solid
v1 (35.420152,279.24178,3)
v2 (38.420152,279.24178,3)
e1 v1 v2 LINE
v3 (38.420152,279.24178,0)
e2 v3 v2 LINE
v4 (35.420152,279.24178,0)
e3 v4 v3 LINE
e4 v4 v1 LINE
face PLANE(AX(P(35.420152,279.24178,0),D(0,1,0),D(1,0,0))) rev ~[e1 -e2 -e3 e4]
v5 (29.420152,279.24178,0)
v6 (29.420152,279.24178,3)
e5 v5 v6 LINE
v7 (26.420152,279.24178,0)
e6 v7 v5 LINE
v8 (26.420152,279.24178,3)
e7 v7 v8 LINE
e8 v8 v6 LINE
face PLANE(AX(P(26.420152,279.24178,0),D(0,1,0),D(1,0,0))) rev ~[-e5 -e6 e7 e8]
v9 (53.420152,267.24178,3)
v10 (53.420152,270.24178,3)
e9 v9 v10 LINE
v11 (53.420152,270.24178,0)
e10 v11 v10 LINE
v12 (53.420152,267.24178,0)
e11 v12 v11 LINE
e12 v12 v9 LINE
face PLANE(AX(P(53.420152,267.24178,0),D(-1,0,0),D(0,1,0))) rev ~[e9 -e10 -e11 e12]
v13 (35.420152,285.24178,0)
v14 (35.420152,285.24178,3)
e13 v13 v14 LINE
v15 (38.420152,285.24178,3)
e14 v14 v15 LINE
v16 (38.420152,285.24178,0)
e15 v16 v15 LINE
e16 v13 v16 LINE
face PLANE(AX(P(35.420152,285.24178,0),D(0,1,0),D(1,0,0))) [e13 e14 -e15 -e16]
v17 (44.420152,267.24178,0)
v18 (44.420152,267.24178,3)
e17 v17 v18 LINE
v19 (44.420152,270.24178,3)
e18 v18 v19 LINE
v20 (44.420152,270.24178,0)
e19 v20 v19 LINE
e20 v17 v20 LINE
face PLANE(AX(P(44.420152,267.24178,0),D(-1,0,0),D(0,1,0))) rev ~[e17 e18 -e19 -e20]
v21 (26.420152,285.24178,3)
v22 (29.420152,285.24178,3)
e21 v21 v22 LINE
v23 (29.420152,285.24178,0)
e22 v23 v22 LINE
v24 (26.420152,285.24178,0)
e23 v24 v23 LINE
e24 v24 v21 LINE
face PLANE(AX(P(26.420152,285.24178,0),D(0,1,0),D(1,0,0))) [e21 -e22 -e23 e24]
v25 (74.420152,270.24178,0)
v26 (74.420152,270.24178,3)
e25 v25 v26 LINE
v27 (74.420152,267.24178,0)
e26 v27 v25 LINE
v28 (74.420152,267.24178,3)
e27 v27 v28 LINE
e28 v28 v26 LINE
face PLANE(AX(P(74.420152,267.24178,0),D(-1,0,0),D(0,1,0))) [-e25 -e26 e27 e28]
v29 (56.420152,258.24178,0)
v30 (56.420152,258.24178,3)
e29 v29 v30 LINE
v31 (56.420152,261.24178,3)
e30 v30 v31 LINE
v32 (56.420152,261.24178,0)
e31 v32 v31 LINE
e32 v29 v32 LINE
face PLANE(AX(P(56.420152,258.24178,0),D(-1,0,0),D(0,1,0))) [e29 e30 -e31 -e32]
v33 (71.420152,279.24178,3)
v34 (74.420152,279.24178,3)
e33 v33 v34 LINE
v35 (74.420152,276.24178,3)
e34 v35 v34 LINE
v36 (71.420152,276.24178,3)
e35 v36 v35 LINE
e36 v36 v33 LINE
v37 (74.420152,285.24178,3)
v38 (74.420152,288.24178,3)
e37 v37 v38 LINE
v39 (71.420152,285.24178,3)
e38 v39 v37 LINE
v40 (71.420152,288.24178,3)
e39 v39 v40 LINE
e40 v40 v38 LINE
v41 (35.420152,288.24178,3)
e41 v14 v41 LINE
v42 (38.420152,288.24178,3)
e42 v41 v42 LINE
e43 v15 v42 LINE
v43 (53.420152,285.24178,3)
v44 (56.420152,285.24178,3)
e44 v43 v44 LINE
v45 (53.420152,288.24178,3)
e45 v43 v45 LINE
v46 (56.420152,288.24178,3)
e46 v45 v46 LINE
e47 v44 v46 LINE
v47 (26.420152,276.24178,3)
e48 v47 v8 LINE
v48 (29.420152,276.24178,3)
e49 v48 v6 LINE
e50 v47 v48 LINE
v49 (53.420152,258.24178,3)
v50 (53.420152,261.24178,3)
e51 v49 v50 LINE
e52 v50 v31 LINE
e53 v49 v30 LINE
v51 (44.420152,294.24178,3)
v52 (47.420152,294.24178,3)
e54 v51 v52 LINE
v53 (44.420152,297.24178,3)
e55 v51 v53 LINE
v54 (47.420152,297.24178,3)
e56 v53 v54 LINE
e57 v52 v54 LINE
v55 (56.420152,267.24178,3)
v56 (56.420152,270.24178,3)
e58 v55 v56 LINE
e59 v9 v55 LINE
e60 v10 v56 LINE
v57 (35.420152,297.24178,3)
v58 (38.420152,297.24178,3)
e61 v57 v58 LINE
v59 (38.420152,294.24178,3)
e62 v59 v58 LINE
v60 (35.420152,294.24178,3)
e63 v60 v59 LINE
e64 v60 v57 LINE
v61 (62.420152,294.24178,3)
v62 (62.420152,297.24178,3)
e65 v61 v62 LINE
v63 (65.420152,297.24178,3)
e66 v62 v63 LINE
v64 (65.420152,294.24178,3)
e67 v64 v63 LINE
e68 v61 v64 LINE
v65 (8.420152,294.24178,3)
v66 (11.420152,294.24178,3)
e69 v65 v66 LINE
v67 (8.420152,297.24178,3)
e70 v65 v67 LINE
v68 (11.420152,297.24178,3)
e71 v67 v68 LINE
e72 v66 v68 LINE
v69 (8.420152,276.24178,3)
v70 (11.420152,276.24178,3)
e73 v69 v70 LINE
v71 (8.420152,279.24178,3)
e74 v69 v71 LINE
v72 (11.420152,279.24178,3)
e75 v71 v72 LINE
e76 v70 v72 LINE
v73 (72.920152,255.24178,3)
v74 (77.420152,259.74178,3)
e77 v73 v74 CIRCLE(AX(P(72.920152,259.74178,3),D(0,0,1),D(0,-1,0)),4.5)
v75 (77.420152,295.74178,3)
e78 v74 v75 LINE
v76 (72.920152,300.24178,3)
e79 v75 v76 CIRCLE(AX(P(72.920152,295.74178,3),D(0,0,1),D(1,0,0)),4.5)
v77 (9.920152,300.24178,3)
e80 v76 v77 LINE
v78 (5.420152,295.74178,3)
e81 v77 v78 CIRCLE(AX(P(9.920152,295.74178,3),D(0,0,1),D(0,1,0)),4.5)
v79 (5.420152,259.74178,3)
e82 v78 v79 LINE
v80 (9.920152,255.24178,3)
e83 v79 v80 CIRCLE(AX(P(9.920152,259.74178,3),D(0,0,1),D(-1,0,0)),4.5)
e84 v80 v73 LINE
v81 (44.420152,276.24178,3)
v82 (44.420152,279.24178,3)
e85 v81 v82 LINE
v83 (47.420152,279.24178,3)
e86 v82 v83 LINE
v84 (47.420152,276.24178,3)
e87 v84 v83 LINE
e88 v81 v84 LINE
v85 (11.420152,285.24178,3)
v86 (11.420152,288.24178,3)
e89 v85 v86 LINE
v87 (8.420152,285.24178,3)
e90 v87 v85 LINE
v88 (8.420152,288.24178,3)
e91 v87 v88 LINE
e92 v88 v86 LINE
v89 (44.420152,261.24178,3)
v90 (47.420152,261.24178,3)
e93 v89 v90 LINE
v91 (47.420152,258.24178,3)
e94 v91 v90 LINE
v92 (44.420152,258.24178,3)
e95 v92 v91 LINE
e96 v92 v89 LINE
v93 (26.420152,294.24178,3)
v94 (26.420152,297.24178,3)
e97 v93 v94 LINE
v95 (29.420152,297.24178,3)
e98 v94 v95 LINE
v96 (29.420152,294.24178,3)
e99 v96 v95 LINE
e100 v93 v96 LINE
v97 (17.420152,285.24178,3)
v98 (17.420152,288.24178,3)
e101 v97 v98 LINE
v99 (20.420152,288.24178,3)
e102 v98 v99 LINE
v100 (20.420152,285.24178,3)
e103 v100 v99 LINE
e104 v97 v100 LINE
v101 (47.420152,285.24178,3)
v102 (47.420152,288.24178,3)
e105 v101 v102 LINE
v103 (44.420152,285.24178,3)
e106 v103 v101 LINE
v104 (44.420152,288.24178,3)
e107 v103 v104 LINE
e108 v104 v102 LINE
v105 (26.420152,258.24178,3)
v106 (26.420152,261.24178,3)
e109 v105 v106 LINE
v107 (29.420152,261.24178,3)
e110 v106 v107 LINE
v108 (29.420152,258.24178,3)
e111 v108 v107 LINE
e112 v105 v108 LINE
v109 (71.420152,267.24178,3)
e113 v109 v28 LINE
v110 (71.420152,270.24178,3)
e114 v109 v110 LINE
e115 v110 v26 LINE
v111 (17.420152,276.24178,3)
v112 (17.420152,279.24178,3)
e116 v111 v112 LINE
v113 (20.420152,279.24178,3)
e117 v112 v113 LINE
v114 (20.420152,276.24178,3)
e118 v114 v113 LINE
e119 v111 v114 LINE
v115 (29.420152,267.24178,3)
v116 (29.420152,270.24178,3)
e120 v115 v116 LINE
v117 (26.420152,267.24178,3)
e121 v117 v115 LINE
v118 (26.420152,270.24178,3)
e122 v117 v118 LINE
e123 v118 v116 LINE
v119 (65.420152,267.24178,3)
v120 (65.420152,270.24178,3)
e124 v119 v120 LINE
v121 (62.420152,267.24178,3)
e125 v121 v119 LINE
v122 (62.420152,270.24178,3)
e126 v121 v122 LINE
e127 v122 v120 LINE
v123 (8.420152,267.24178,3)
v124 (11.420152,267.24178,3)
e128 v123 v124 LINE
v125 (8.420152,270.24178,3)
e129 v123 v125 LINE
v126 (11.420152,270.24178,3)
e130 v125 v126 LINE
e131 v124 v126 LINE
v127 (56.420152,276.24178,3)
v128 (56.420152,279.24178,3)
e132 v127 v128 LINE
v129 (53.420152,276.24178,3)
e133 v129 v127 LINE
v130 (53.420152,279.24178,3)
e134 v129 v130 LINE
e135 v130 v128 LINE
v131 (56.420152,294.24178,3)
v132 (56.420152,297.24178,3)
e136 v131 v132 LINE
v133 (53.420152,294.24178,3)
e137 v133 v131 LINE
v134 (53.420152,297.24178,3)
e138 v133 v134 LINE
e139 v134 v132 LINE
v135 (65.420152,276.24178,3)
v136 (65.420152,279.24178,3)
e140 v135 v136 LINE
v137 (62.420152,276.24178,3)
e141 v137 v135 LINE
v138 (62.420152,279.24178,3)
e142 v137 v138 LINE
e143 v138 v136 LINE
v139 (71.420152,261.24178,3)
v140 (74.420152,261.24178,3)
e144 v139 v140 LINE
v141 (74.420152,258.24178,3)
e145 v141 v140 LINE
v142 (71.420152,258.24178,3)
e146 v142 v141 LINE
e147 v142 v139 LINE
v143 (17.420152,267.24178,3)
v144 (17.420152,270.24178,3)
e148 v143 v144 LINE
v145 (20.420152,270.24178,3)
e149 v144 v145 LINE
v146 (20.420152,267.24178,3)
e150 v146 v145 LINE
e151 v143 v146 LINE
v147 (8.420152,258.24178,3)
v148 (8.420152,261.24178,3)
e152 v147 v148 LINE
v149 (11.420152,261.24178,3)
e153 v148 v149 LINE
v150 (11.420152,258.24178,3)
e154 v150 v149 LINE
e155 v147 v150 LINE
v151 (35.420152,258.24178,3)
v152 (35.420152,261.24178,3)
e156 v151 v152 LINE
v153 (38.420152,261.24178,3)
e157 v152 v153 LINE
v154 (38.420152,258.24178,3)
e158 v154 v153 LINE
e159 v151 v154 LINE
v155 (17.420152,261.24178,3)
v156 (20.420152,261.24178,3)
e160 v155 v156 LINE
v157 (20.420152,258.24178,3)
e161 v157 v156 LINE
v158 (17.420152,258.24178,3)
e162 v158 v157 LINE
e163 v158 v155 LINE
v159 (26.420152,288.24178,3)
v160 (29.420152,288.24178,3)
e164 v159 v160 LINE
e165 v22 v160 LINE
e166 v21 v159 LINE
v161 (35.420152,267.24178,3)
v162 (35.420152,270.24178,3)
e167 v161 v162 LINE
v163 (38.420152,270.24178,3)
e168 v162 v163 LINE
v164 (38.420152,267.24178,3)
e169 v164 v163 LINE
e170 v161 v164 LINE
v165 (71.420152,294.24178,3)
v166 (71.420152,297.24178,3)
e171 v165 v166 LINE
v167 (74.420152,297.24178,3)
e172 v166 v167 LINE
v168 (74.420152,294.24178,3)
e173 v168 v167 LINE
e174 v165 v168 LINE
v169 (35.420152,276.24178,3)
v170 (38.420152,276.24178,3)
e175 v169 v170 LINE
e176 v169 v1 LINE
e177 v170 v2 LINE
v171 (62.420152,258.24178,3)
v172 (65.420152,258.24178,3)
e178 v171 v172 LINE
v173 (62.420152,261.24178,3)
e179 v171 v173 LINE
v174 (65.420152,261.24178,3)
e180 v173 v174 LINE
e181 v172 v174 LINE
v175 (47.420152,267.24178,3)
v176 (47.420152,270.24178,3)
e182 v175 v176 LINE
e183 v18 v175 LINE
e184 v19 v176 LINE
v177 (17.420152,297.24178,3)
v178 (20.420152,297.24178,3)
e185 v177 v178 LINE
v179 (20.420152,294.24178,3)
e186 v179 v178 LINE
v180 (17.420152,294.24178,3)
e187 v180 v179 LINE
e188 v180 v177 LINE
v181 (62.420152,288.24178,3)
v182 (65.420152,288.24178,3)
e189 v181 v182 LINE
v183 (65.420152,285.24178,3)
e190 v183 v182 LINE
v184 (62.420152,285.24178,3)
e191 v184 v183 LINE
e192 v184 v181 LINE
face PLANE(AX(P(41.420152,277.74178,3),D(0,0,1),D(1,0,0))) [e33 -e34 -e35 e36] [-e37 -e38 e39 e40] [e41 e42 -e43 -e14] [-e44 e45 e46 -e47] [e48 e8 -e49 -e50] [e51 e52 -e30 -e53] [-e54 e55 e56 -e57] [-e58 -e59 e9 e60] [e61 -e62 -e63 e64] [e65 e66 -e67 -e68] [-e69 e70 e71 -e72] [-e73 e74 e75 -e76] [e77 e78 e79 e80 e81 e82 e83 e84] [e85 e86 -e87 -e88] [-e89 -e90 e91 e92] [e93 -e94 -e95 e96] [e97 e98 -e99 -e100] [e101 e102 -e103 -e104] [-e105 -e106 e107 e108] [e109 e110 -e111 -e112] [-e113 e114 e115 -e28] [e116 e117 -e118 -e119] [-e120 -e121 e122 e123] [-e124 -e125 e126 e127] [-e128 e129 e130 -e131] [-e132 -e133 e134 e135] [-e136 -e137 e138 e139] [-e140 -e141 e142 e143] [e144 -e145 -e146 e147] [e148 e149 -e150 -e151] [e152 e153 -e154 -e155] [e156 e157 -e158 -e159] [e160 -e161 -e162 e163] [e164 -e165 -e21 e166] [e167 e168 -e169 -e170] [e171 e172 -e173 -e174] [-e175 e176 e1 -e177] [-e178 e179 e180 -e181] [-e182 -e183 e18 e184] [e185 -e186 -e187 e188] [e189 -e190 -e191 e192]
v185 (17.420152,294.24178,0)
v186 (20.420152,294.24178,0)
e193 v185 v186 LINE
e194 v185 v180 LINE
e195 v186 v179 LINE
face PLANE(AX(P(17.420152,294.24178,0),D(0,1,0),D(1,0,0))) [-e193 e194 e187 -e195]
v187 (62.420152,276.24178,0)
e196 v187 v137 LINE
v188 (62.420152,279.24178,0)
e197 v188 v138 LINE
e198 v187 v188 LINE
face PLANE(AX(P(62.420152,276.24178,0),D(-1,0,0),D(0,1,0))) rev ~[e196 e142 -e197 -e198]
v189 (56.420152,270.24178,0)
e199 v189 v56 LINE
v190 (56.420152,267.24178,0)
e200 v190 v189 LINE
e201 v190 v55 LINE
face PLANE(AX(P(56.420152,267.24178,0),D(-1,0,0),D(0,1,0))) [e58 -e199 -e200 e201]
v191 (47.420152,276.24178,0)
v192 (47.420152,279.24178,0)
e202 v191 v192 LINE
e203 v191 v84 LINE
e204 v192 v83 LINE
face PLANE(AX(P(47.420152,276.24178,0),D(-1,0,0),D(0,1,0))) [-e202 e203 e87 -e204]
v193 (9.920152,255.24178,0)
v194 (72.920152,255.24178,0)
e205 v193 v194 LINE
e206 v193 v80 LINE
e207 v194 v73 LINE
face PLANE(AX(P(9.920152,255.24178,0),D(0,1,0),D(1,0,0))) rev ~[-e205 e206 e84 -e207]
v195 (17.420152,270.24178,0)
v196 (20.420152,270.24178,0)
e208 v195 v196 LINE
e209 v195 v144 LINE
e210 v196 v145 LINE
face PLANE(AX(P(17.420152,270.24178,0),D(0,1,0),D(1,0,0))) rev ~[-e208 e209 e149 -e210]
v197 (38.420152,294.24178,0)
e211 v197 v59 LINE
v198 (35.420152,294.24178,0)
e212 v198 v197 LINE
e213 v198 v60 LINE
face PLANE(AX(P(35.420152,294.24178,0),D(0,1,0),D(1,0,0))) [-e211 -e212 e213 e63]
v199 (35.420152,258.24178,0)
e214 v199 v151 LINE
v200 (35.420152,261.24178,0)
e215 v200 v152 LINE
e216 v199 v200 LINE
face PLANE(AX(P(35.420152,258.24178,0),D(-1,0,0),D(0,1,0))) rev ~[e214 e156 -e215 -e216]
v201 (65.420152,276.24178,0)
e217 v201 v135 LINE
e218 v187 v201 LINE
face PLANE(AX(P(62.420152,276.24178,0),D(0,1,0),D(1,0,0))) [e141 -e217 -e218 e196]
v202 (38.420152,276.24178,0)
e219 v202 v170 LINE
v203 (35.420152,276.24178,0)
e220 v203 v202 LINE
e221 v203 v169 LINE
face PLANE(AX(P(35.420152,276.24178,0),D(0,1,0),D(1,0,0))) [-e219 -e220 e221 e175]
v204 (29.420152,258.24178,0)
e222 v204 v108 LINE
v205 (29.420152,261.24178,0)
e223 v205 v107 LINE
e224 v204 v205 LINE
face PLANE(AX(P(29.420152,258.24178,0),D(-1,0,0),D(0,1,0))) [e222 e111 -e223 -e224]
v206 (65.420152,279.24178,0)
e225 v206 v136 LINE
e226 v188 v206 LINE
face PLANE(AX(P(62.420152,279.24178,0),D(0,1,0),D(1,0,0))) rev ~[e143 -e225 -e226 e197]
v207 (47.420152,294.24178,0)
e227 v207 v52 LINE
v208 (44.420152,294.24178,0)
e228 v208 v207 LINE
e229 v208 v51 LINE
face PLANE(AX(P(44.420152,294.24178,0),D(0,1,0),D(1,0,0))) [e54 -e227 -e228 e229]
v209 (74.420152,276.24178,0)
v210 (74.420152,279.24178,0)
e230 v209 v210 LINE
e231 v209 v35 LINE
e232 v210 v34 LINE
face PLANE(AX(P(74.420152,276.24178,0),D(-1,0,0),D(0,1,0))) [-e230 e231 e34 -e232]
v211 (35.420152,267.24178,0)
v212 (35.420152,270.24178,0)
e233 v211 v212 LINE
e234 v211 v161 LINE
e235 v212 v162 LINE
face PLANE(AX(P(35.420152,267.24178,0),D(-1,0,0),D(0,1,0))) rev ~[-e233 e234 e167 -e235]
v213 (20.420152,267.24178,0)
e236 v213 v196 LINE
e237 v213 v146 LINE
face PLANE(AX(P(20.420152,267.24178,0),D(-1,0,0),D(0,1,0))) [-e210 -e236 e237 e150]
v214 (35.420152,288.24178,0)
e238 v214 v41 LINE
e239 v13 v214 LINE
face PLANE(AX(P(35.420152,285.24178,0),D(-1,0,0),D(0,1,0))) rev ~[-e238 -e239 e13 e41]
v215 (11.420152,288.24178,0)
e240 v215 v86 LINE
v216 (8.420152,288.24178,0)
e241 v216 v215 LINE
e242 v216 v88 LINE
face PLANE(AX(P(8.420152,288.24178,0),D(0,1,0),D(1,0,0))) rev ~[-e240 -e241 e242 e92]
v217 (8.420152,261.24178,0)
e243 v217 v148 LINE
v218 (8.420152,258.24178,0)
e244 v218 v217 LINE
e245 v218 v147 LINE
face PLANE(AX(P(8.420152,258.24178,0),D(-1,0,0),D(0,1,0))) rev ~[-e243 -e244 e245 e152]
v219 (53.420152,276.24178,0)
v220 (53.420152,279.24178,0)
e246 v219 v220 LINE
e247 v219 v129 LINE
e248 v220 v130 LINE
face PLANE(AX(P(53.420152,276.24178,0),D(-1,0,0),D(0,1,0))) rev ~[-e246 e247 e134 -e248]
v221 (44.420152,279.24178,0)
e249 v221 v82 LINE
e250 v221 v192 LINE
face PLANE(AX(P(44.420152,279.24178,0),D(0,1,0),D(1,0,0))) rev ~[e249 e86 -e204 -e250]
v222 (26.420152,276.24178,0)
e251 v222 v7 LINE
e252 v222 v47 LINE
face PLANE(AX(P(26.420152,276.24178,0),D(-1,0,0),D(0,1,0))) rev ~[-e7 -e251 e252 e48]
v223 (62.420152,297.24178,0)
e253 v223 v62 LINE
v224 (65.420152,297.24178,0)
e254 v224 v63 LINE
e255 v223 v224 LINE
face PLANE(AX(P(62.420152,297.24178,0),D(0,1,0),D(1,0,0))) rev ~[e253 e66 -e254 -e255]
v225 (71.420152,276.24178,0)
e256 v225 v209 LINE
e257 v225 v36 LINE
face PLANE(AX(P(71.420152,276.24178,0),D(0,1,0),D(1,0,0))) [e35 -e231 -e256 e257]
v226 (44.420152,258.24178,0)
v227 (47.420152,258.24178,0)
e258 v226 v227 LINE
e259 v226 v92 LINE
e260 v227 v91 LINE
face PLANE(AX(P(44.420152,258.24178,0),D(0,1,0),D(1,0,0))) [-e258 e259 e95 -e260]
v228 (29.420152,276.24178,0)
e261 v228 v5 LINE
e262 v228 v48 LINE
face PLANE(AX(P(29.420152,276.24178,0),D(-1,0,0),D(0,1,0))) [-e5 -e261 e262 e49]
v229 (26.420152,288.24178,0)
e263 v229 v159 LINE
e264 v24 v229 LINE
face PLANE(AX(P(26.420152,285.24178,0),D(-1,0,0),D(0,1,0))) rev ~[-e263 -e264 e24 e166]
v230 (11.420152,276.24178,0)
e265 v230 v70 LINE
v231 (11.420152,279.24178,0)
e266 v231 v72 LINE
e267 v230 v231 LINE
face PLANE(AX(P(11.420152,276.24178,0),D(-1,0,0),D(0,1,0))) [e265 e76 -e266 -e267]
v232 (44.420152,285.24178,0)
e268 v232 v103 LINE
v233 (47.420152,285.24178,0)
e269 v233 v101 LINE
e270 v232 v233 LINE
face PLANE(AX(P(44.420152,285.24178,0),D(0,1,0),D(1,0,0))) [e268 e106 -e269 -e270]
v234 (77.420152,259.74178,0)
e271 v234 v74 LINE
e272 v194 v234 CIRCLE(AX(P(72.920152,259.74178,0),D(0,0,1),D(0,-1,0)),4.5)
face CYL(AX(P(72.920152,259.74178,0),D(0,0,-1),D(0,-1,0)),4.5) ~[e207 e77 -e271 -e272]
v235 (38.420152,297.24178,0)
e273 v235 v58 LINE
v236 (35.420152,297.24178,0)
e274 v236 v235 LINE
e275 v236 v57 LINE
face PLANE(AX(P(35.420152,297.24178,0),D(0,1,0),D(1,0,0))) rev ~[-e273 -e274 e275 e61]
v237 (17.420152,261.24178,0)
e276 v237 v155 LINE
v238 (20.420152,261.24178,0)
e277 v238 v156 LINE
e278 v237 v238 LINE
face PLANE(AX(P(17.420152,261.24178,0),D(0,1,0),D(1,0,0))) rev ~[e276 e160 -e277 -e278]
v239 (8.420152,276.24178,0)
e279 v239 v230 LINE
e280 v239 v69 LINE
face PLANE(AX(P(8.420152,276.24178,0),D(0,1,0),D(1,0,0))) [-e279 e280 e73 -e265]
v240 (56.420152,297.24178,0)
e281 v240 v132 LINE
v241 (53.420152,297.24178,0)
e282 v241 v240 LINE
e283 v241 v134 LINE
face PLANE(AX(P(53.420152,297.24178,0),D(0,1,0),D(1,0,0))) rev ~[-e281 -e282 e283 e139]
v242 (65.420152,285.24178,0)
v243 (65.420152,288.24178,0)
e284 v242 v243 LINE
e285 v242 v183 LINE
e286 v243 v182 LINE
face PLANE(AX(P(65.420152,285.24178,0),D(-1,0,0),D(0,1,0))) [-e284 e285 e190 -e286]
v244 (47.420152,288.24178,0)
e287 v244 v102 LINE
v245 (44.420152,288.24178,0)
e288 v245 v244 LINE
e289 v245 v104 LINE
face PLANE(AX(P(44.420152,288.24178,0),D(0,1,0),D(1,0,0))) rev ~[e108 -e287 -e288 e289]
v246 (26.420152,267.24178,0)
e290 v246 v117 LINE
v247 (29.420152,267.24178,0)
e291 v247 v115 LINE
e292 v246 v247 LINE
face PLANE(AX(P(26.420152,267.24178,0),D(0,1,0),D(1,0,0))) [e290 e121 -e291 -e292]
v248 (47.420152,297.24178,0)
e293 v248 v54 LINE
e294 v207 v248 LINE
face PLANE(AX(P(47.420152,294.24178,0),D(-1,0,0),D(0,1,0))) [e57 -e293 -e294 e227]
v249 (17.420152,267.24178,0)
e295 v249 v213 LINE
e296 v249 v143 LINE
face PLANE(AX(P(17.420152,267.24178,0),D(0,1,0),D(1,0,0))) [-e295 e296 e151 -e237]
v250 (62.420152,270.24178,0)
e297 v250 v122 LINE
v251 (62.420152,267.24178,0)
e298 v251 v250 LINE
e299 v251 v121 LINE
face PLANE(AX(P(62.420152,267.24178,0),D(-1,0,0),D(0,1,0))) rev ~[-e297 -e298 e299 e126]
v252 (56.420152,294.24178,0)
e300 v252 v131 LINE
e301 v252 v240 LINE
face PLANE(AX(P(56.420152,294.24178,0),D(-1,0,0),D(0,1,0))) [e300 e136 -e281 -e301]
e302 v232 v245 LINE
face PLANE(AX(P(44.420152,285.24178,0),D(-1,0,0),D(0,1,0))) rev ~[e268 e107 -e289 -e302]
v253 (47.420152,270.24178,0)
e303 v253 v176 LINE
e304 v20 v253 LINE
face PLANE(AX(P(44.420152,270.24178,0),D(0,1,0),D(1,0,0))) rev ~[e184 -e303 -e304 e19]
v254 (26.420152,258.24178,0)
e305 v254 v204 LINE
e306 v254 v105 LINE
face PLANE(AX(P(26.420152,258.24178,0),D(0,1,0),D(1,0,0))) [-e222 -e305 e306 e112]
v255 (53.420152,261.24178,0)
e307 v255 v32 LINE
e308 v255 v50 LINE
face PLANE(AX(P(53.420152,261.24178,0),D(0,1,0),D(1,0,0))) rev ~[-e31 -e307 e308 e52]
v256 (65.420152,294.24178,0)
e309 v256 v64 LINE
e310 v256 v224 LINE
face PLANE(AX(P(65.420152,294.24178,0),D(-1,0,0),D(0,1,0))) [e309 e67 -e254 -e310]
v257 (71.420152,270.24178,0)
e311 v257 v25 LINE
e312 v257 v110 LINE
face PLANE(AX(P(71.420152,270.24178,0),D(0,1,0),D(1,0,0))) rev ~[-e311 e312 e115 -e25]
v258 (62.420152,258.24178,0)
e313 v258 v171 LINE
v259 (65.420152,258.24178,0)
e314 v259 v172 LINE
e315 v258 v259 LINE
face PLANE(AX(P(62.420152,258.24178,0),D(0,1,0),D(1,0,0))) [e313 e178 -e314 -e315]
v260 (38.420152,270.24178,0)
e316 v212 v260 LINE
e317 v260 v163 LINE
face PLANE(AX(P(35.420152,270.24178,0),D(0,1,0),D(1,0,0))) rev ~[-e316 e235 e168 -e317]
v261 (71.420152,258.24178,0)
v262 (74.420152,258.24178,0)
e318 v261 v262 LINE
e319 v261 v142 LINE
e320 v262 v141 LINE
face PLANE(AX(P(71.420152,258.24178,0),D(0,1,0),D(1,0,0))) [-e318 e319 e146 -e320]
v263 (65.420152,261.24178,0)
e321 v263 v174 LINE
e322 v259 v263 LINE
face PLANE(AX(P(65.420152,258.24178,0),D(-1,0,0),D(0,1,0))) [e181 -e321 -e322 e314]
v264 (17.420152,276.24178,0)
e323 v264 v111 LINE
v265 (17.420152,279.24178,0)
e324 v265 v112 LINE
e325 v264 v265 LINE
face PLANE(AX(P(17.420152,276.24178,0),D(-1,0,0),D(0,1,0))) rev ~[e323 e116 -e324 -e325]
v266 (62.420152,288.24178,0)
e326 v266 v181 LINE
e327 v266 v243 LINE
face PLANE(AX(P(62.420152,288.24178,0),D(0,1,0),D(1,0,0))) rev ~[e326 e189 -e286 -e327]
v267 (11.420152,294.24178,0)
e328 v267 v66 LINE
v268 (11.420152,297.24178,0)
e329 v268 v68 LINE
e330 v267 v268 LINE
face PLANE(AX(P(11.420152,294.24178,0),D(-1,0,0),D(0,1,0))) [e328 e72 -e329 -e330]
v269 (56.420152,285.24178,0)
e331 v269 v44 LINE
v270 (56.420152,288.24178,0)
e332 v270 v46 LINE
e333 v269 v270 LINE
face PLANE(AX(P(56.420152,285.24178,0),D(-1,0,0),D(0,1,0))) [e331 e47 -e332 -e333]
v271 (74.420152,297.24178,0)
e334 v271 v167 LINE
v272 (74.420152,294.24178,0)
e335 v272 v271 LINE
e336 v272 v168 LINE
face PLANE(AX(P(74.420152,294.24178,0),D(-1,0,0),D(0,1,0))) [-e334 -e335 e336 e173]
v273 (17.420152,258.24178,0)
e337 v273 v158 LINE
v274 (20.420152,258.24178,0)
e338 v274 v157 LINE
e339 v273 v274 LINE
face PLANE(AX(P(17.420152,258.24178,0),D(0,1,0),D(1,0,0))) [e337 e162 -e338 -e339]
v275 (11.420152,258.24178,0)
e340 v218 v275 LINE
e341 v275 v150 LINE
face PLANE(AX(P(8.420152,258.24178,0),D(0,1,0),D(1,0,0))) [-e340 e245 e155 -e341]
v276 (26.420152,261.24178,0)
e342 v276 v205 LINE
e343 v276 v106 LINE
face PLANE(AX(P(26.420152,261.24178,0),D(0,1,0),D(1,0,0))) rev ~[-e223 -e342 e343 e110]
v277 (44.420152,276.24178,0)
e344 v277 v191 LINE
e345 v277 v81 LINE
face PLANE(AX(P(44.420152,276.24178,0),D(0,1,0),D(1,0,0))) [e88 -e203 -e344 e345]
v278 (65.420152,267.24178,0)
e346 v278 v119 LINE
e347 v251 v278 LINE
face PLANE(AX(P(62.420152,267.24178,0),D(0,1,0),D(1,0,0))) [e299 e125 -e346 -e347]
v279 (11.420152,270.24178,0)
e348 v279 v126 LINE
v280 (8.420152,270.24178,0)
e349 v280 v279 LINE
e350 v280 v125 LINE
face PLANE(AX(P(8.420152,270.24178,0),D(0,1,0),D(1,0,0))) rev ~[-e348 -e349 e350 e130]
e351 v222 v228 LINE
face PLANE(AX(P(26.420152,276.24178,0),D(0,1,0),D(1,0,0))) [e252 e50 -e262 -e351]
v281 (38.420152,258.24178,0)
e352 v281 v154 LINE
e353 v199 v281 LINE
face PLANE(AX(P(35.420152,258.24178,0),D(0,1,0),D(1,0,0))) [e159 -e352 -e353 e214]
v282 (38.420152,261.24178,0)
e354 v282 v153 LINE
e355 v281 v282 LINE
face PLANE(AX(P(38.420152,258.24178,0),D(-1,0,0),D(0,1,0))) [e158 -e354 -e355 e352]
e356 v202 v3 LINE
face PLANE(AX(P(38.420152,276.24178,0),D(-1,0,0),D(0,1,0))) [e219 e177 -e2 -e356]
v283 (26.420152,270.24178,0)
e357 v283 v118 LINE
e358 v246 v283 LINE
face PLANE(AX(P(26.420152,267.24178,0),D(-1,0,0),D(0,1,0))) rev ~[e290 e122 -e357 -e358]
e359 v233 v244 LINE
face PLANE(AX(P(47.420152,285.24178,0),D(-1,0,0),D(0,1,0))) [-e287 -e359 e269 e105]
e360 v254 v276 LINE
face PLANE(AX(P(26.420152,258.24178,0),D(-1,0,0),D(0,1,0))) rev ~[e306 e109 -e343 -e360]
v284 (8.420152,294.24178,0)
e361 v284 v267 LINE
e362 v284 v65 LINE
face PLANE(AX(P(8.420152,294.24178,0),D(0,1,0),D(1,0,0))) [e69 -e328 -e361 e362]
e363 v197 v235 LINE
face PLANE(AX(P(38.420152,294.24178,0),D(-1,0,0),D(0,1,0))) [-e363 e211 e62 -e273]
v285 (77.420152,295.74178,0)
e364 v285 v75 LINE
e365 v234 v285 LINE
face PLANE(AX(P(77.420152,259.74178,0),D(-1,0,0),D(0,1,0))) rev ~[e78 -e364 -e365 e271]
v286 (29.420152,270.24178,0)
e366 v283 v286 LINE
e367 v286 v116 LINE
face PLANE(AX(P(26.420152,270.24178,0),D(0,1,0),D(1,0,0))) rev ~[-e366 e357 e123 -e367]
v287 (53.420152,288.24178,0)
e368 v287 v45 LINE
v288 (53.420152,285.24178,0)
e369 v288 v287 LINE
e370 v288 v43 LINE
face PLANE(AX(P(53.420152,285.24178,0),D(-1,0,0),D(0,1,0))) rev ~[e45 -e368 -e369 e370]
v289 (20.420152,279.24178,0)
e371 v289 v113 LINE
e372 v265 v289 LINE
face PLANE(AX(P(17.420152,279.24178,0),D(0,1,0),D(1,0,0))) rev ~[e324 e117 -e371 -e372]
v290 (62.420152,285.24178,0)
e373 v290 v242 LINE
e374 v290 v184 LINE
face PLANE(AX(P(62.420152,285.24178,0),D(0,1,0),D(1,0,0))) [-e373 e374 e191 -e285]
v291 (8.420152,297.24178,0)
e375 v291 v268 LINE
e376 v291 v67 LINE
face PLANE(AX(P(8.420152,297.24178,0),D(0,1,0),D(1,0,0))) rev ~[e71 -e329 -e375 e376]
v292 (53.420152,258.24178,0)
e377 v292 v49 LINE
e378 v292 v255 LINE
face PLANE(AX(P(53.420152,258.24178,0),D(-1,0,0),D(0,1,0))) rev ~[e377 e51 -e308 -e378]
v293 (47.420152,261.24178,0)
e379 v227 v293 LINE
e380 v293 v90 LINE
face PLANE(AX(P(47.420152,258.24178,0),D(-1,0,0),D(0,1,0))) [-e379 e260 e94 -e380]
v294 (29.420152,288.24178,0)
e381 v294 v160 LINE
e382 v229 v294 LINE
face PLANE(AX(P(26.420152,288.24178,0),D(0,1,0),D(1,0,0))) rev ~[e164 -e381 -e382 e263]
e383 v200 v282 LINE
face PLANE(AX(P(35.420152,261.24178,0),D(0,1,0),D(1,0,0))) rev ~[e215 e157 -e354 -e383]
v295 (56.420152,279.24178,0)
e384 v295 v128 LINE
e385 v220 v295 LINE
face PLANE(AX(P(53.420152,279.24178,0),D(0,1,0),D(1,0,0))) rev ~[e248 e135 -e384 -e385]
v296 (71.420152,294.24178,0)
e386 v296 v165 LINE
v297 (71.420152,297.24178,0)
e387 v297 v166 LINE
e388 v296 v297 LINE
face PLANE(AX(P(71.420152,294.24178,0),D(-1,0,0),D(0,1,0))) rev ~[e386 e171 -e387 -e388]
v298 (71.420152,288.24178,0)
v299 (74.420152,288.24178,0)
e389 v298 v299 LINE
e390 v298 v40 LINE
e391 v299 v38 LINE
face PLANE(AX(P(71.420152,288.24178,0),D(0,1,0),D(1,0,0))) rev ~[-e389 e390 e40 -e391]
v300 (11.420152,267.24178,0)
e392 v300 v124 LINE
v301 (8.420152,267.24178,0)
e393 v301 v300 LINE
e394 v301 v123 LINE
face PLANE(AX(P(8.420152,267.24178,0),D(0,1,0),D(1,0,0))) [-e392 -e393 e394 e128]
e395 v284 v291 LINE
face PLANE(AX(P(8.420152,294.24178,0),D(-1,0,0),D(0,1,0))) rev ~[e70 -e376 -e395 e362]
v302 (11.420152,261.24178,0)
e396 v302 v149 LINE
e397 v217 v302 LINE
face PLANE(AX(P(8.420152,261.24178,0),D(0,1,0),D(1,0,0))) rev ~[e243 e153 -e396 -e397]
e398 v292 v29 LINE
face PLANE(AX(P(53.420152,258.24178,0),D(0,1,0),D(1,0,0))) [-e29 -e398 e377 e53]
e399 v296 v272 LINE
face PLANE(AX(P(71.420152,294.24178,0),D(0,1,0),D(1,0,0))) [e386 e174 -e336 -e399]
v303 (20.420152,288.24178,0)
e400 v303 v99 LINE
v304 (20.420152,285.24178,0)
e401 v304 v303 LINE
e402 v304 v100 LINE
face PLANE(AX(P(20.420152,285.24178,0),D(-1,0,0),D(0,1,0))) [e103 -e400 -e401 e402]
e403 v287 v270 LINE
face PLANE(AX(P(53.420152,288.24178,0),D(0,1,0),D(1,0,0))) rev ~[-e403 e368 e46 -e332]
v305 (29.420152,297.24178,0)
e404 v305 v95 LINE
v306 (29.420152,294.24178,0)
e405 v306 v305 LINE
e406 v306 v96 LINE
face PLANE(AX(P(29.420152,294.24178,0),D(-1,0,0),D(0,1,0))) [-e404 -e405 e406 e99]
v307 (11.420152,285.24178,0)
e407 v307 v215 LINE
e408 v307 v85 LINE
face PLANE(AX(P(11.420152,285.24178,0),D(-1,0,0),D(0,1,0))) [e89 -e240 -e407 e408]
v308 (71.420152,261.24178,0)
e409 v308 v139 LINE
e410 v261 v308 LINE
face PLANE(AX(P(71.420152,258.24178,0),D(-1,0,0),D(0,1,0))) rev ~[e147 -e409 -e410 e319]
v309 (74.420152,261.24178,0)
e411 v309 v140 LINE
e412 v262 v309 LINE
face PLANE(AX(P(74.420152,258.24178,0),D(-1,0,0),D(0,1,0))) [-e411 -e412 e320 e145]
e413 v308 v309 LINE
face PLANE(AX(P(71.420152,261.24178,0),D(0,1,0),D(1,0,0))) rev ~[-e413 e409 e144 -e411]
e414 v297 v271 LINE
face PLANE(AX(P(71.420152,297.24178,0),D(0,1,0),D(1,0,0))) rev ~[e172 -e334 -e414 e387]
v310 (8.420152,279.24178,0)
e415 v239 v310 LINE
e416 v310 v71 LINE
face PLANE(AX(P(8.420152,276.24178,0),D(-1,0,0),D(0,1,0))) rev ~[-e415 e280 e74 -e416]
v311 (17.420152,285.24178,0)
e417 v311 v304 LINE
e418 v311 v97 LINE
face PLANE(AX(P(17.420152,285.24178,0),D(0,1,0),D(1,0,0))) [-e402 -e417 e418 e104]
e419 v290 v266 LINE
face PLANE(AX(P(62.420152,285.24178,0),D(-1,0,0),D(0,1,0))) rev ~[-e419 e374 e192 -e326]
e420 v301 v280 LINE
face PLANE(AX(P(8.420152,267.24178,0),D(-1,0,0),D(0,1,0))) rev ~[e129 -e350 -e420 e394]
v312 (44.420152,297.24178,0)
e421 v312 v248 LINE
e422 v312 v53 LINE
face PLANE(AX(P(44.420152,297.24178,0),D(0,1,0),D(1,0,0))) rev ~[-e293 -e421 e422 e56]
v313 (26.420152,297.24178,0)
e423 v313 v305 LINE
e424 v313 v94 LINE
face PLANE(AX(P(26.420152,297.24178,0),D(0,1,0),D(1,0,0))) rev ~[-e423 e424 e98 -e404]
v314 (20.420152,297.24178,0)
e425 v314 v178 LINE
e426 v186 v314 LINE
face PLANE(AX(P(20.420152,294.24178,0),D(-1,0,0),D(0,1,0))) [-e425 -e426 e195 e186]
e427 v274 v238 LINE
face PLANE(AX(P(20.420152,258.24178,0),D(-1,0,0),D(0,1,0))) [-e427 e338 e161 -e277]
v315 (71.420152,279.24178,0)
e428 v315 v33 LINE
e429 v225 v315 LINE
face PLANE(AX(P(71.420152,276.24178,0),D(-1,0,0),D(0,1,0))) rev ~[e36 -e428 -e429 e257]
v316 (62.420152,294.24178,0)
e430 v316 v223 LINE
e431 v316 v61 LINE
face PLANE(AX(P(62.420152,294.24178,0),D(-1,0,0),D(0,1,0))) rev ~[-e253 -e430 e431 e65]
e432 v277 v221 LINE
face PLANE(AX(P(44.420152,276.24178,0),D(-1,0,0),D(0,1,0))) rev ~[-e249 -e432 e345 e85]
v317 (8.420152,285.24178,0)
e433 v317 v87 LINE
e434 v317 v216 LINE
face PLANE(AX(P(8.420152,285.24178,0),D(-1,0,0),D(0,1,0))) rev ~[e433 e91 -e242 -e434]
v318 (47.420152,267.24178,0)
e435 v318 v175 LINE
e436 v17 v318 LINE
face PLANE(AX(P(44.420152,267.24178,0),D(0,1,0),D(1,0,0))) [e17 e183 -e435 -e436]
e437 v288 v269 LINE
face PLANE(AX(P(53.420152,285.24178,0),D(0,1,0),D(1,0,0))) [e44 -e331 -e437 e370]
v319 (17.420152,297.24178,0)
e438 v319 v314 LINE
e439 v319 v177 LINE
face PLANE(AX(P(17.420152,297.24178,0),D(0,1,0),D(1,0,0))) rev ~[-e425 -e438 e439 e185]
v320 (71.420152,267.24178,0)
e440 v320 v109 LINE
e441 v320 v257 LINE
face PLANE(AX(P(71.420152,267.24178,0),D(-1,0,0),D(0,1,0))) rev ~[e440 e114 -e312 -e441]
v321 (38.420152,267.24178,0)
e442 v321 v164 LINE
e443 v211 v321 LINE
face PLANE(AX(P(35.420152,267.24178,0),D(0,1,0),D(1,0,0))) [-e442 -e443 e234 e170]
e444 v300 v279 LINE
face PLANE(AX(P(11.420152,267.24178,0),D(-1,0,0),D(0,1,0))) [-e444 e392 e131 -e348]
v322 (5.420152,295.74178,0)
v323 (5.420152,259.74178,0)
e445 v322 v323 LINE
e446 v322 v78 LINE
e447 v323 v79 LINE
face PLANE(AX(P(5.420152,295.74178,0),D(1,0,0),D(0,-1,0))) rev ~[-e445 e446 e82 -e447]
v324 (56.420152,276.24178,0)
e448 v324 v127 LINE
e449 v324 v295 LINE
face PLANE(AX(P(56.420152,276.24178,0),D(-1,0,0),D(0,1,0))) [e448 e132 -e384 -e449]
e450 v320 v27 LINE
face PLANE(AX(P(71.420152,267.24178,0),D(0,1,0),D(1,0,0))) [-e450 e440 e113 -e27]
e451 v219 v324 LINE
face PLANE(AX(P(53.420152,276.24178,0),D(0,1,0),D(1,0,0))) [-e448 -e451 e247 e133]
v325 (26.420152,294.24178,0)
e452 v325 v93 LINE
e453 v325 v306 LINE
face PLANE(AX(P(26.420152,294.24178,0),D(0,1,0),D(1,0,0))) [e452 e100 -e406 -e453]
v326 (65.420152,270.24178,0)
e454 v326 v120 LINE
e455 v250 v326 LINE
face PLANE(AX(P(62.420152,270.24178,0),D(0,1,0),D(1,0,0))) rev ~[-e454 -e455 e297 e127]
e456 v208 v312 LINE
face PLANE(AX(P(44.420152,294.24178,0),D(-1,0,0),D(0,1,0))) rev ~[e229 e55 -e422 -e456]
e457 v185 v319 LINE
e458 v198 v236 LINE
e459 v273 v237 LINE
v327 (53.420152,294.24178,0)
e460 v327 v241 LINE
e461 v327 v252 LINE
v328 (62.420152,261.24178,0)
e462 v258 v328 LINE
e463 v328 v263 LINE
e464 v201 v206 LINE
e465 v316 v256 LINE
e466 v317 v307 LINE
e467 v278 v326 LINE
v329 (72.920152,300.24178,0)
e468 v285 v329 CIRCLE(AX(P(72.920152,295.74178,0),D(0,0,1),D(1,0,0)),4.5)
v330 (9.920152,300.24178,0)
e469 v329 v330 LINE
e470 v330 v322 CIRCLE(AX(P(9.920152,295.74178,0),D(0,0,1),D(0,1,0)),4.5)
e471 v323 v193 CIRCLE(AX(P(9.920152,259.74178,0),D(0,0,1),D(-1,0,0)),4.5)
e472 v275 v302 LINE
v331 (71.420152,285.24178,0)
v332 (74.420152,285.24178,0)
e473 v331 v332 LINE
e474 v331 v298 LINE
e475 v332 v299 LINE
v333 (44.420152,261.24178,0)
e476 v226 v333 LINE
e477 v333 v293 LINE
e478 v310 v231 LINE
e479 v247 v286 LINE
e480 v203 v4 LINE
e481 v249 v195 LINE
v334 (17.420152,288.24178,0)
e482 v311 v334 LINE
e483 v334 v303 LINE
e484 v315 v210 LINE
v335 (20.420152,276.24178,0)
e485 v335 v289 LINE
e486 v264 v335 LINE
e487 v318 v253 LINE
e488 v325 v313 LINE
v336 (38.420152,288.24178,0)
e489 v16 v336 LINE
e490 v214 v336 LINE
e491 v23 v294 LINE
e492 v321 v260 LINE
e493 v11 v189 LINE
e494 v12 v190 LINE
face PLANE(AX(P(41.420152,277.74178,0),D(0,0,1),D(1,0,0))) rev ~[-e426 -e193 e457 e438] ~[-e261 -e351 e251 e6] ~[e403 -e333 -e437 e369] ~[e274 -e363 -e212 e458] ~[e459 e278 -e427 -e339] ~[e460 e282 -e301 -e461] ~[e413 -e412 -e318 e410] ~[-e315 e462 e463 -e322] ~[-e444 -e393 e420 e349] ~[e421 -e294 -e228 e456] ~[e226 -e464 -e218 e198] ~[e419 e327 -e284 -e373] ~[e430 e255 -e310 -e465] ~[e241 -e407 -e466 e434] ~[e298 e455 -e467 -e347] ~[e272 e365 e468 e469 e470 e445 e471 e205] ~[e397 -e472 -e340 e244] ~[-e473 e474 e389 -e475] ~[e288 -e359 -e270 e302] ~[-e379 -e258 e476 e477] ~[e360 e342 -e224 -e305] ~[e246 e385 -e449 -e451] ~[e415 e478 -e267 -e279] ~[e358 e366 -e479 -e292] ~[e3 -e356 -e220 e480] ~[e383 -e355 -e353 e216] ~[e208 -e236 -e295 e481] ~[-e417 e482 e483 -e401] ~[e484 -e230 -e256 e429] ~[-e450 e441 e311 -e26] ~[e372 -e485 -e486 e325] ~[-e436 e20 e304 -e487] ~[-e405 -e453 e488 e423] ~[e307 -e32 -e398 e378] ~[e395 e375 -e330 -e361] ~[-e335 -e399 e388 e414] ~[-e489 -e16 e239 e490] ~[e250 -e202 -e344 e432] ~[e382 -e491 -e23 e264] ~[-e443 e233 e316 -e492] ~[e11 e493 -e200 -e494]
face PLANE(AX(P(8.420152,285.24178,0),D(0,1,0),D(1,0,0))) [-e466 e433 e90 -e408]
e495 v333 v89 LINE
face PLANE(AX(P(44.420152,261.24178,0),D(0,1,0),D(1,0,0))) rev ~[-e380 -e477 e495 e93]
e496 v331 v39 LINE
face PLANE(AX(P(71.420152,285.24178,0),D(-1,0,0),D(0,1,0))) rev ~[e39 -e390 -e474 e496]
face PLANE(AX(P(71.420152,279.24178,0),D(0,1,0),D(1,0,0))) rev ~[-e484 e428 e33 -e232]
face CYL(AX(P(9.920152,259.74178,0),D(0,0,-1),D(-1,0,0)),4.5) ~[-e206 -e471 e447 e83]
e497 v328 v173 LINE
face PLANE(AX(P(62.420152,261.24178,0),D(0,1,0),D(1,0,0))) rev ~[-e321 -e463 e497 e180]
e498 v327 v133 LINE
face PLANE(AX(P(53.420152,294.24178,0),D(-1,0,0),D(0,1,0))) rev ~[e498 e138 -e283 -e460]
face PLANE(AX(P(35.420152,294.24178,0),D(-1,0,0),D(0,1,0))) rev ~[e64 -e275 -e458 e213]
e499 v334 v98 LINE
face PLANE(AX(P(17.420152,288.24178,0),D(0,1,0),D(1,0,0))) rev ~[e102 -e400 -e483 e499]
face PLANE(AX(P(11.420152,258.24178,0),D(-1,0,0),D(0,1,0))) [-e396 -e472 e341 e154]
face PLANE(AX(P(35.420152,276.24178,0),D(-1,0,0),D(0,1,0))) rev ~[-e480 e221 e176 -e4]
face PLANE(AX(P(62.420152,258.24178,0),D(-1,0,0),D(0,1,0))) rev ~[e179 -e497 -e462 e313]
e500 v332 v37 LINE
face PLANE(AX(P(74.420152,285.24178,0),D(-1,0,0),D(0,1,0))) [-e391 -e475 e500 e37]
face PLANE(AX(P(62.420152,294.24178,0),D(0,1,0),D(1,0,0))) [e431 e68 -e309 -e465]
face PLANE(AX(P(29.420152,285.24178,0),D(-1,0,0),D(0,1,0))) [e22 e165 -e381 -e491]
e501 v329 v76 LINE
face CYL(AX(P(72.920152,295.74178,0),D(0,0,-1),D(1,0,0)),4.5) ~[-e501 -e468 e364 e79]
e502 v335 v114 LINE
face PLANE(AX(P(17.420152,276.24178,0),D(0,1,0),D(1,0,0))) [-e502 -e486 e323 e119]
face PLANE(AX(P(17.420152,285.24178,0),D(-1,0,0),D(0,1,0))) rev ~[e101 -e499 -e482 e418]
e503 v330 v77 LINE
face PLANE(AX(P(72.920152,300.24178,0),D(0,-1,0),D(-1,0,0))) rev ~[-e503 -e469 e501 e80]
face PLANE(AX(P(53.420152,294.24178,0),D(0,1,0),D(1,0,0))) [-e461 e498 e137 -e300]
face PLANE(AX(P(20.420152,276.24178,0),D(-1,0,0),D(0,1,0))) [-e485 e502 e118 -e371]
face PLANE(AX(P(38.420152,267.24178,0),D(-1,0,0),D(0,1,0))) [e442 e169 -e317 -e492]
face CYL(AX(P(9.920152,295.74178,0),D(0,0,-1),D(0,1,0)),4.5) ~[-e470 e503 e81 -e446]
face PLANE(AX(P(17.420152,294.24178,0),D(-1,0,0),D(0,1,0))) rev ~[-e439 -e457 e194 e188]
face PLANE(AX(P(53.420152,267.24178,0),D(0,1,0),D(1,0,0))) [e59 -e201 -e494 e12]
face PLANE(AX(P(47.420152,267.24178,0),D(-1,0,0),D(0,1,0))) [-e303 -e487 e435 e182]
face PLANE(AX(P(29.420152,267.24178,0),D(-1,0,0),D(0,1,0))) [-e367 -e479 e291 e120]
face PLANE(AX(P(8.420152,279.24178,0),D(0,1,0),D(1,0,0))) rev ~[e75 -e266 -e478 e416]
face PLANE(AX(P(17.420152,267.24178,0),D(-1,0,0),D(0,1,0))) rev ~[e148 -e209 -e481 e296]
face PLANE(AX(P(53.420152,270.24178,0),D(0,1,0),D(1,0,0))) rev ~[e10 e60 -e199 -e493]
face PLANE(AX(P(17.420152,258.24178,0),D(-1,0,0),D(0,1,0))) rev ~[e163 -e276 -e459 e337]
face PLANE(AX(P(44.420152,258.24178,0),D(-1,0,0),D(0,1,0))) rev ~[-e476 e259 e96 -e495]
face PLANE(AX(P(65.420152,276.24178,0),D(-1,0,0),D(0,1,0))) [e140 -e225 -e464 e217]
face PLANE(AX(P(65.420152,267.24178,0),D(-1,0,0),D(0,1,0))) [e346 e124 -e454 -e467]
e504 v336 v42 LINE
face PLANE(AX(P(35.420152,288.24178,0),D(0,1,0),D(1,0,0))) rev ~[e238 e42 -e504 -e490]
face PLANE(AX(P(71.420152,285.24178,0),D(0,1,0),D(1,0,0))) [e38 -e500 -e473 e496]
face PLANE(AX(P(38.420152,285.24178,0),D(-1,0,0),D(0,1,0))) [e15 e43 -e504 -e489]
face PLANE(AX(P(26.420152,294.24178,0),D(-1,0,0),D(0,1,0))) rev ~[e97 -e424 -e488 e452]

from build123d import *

# Parameters (mm, degrees)
MODEL_W                 = 3
MODEL_H                 = 3
SALIENTE_EXTRUIR1_DEPTH = 3


with BuildPart() as part:
    # Model → Saliente-Extruir1 (new body)
    with BuildSketch(Plane.XY):
        with BuildLine():
            Line((77.4201517, 259.741779533), (77.4201517, 295.741779533))
            ThreePointArc((77.4201517, 295.741779533), (76.102132215, 298.923760049), (72.9201517, 300.241779533))
            Line((72.9201517, 300.241779533), (9.9201517, 300.241779533))
            ThreePointArc((9.9201517, 300.241779533), (6.738171185, 298.923760049), (5.4201517, 295.741779533))
            Line((5.4201517, 295.741779533), (5.4201517, 259.741779533))
            ThreePointArc((5.4201517, 259.741779533), (6.738171185, 256.559799018), (9.9201517, 255.241779533))
            Line((9.9201517, 255.241779533), (72.9201517, 255.241779533))
            ThreePointArc((72.9201517, 255.241779533), (76.102132215, 256.559799018), (77.4201517, 259.741779533))
        make_face()
        with Locations((9.9201517, 295.741779533)):
            Rectangle(MODEL_W, MODEL_H, mode=Mode.SUBTRACT)
        with Locations((18.9201517, 295.741779533)):
            Rectangle(MODEL_W, MODEL_H, mode=Mode.SUBTRACT)
        with Locations((27.9201517, 295.741779533)):
            Rectangle(MODEL_W, MODEL_H, mode=Mode.SUBTRACT)
        with Locations((36.9201517, 295.741779533)):
            Rectangle(MODEL_W, MODEL_H, mode=Mode.SUBTRACT)
        with Locations((45.9201517, 295.741779533)):
            Rectangle(MODEL_W, MODEL_H, mode=Mode.SUBTRACT)
        with Locations((54.9201517, 295.741779533)):
            Rectangle(MODEL_W, MODEL_H, mode=Mode.SUBTRACT)
        with Locations((63.9201517, 295.741779533)):
            Rectangle(MODEL_W, MODEL_H, mode=Mode.SUBTRACT)
        with Locations((72.9201517, 295.741779533)):
            Rectangle(MODEL_W, MODEL_H, mode=Mode.SUBTRACT)
        with Locations((9.9201517, 259.741779533)):
            Rectangle(MODEL_W, MODEL_H, mode=Mode.SUBTRACT)
        with Locations((18.9201517, 259.741779533)):
            Rectangle(MODEL_W, MODEL_H, mode=Mode.SUBTRACT)
        with Locations((27.9201517, 259.741779533)):
            Rectangle(MODEL_W, MODEL_H, mode=Mode.SUBTRACT)
        with Locations((36.9201517, 259.741779533)):
            Rectangle(MODEL_W, MODEL_H, mode=Mode.SUBTRACT)
        with Locations((45.9201517, 259.741779533)):
            Rectangle(MODEL_W, MODEL_H, mode=Mode.SUBTRACT)
        with Locations((54.9201517, 259.741779533)):
            Rectangle(MODEL_W, MODEL_H, mode=Mode.SUBTRACT)
        with Locations((63.9201517, 259.741779533)):
            Rectangle(MODEL_W, MODEL_H, mode=Mode.SUBTRACT)
        with Locations((72.9201517, 259.741779533)):
            Rectangle(MODEL_W, MODEL_H, mode=Mode.SUBTRACT)
        with Locations((72.9201517, 286.741779533)):
            Rectangle(MODEL_W, MODEL_H, mode=Mode.SUBTRACT)
        with Locations((72.9201517, 268.741779533)):
            Rectangle(MODEL_W, MODEL_H, mode=Mode.SUBTRACT)
        with Locations((72.9201517, 277.741779533)):
            Rectangle(MODEL_W, MODEL_H, mode=Mode.SUBTRACT)
        with Locations((9.9201517, 286.741779533)):
            Rectangle(MODEL_W, MODEL_H, mode=Mode.SUBTRACT)
        with Locations((9.9201517, 268.741779533)):
            Rectangle(MODEL_W, MODEL_H, mode=Mode.SUBTRACT)
        with Locations((9.9201517, 277.741779533)):
            Rectangle(MODEL_W, MODEL_H, mode=Mode.SUBTRACT)
        with Locations((18.9201517, 268.741779533)):
            Rectangle(MODEL_W, MODEL_H, mode=Mode.SUBTRACT)
        with Locations((27.9201517, 268.741779533)):
            Rectangle(MODEL_W, MODEL_H, mode=Mode.SUBTRACT)
        with Locations((36.9201517, 268.741779533)):
            Rectangle(MODEL_W, MODEL_H, mode=Mode.SUBTRACT)
        with Locations((63.9201517, 268.741779533)):
            Rectangle(MODEL_W, MODEL_H, mode=Mode.SUBTRACT)
        with Locations((45.9201517, 268.741779533)):
            Rectangle(MODEL_W, MODEL_H, mode=Mode.SUBTRACT)
        with Locations((54.9201517, 268.741779533)):
            Rectangle(MODEL_W, MODEL_H, mode=Mode.SUBTRACT)
        with Locations((18.9201517, 277.741779533)):
            Rectangle(MODEL_W, MODEL_H, mode=Mode.SUBTRACT)
        with Locations((27.9201517, 277.741779533)):
            Rectangle(MODEL_W, MODEL_H, mode=Mode.SUBTRACT)
        with Locations((36.9201517, 277.741779533)):
            Rectangle(MODEL_W, MODEL_H, mode=Mode.SUBTRACT)
        with Locations((63.9201517, 277.741779533)):
            Rectangle(MODEL_W, MODEL_H, mode=Mode.SUBTRACT)
        with Locations((18.9201517, 286.741779533)):
            Rectangle(MODEL_W, MODEL_H, mode=Mode.SUBTRACT)
        with Locations((27.9201517, 286.741779533)):
            Rectangle(MODEL_W, MODEL_H, mode=Mode.SUBTRACT)
        with Locations((36.9201517, 286.741779533)):
            Rectangle(MODEL_W, MODEL_H, mode=Mode.SUBTRACT)
        with Locations((63.9201517, 286.741779533)):
            Rectangle(MODEL_W, MODEL_H, mode=Mode.SUBTRACT)
        with Locations((45.9201517, 277.741779533)):
            Rectangle(MODEL_W, MODEL_H, mode=Mode.SUBTRACT)
        with Locations((54.9201517, 277.741779533)):
            Rectangle(MODEL_W, MODEL_H, mode=Mode.SUBTRACT)
        with Locations((45.9201517, 286.741779533)):
            Rectangle(MODEL_W, MODEL_H, mode=Mode.SUBTRACT)
        with Locations((54.9201517, 286.741779533)):
            Rectangle(MODEL_W, MODEL_H, mode=Mode.SUBTRACT)
    extrude(amount=SALIENTE_EXTRUIR1_DEPTH)


solid = part.part
